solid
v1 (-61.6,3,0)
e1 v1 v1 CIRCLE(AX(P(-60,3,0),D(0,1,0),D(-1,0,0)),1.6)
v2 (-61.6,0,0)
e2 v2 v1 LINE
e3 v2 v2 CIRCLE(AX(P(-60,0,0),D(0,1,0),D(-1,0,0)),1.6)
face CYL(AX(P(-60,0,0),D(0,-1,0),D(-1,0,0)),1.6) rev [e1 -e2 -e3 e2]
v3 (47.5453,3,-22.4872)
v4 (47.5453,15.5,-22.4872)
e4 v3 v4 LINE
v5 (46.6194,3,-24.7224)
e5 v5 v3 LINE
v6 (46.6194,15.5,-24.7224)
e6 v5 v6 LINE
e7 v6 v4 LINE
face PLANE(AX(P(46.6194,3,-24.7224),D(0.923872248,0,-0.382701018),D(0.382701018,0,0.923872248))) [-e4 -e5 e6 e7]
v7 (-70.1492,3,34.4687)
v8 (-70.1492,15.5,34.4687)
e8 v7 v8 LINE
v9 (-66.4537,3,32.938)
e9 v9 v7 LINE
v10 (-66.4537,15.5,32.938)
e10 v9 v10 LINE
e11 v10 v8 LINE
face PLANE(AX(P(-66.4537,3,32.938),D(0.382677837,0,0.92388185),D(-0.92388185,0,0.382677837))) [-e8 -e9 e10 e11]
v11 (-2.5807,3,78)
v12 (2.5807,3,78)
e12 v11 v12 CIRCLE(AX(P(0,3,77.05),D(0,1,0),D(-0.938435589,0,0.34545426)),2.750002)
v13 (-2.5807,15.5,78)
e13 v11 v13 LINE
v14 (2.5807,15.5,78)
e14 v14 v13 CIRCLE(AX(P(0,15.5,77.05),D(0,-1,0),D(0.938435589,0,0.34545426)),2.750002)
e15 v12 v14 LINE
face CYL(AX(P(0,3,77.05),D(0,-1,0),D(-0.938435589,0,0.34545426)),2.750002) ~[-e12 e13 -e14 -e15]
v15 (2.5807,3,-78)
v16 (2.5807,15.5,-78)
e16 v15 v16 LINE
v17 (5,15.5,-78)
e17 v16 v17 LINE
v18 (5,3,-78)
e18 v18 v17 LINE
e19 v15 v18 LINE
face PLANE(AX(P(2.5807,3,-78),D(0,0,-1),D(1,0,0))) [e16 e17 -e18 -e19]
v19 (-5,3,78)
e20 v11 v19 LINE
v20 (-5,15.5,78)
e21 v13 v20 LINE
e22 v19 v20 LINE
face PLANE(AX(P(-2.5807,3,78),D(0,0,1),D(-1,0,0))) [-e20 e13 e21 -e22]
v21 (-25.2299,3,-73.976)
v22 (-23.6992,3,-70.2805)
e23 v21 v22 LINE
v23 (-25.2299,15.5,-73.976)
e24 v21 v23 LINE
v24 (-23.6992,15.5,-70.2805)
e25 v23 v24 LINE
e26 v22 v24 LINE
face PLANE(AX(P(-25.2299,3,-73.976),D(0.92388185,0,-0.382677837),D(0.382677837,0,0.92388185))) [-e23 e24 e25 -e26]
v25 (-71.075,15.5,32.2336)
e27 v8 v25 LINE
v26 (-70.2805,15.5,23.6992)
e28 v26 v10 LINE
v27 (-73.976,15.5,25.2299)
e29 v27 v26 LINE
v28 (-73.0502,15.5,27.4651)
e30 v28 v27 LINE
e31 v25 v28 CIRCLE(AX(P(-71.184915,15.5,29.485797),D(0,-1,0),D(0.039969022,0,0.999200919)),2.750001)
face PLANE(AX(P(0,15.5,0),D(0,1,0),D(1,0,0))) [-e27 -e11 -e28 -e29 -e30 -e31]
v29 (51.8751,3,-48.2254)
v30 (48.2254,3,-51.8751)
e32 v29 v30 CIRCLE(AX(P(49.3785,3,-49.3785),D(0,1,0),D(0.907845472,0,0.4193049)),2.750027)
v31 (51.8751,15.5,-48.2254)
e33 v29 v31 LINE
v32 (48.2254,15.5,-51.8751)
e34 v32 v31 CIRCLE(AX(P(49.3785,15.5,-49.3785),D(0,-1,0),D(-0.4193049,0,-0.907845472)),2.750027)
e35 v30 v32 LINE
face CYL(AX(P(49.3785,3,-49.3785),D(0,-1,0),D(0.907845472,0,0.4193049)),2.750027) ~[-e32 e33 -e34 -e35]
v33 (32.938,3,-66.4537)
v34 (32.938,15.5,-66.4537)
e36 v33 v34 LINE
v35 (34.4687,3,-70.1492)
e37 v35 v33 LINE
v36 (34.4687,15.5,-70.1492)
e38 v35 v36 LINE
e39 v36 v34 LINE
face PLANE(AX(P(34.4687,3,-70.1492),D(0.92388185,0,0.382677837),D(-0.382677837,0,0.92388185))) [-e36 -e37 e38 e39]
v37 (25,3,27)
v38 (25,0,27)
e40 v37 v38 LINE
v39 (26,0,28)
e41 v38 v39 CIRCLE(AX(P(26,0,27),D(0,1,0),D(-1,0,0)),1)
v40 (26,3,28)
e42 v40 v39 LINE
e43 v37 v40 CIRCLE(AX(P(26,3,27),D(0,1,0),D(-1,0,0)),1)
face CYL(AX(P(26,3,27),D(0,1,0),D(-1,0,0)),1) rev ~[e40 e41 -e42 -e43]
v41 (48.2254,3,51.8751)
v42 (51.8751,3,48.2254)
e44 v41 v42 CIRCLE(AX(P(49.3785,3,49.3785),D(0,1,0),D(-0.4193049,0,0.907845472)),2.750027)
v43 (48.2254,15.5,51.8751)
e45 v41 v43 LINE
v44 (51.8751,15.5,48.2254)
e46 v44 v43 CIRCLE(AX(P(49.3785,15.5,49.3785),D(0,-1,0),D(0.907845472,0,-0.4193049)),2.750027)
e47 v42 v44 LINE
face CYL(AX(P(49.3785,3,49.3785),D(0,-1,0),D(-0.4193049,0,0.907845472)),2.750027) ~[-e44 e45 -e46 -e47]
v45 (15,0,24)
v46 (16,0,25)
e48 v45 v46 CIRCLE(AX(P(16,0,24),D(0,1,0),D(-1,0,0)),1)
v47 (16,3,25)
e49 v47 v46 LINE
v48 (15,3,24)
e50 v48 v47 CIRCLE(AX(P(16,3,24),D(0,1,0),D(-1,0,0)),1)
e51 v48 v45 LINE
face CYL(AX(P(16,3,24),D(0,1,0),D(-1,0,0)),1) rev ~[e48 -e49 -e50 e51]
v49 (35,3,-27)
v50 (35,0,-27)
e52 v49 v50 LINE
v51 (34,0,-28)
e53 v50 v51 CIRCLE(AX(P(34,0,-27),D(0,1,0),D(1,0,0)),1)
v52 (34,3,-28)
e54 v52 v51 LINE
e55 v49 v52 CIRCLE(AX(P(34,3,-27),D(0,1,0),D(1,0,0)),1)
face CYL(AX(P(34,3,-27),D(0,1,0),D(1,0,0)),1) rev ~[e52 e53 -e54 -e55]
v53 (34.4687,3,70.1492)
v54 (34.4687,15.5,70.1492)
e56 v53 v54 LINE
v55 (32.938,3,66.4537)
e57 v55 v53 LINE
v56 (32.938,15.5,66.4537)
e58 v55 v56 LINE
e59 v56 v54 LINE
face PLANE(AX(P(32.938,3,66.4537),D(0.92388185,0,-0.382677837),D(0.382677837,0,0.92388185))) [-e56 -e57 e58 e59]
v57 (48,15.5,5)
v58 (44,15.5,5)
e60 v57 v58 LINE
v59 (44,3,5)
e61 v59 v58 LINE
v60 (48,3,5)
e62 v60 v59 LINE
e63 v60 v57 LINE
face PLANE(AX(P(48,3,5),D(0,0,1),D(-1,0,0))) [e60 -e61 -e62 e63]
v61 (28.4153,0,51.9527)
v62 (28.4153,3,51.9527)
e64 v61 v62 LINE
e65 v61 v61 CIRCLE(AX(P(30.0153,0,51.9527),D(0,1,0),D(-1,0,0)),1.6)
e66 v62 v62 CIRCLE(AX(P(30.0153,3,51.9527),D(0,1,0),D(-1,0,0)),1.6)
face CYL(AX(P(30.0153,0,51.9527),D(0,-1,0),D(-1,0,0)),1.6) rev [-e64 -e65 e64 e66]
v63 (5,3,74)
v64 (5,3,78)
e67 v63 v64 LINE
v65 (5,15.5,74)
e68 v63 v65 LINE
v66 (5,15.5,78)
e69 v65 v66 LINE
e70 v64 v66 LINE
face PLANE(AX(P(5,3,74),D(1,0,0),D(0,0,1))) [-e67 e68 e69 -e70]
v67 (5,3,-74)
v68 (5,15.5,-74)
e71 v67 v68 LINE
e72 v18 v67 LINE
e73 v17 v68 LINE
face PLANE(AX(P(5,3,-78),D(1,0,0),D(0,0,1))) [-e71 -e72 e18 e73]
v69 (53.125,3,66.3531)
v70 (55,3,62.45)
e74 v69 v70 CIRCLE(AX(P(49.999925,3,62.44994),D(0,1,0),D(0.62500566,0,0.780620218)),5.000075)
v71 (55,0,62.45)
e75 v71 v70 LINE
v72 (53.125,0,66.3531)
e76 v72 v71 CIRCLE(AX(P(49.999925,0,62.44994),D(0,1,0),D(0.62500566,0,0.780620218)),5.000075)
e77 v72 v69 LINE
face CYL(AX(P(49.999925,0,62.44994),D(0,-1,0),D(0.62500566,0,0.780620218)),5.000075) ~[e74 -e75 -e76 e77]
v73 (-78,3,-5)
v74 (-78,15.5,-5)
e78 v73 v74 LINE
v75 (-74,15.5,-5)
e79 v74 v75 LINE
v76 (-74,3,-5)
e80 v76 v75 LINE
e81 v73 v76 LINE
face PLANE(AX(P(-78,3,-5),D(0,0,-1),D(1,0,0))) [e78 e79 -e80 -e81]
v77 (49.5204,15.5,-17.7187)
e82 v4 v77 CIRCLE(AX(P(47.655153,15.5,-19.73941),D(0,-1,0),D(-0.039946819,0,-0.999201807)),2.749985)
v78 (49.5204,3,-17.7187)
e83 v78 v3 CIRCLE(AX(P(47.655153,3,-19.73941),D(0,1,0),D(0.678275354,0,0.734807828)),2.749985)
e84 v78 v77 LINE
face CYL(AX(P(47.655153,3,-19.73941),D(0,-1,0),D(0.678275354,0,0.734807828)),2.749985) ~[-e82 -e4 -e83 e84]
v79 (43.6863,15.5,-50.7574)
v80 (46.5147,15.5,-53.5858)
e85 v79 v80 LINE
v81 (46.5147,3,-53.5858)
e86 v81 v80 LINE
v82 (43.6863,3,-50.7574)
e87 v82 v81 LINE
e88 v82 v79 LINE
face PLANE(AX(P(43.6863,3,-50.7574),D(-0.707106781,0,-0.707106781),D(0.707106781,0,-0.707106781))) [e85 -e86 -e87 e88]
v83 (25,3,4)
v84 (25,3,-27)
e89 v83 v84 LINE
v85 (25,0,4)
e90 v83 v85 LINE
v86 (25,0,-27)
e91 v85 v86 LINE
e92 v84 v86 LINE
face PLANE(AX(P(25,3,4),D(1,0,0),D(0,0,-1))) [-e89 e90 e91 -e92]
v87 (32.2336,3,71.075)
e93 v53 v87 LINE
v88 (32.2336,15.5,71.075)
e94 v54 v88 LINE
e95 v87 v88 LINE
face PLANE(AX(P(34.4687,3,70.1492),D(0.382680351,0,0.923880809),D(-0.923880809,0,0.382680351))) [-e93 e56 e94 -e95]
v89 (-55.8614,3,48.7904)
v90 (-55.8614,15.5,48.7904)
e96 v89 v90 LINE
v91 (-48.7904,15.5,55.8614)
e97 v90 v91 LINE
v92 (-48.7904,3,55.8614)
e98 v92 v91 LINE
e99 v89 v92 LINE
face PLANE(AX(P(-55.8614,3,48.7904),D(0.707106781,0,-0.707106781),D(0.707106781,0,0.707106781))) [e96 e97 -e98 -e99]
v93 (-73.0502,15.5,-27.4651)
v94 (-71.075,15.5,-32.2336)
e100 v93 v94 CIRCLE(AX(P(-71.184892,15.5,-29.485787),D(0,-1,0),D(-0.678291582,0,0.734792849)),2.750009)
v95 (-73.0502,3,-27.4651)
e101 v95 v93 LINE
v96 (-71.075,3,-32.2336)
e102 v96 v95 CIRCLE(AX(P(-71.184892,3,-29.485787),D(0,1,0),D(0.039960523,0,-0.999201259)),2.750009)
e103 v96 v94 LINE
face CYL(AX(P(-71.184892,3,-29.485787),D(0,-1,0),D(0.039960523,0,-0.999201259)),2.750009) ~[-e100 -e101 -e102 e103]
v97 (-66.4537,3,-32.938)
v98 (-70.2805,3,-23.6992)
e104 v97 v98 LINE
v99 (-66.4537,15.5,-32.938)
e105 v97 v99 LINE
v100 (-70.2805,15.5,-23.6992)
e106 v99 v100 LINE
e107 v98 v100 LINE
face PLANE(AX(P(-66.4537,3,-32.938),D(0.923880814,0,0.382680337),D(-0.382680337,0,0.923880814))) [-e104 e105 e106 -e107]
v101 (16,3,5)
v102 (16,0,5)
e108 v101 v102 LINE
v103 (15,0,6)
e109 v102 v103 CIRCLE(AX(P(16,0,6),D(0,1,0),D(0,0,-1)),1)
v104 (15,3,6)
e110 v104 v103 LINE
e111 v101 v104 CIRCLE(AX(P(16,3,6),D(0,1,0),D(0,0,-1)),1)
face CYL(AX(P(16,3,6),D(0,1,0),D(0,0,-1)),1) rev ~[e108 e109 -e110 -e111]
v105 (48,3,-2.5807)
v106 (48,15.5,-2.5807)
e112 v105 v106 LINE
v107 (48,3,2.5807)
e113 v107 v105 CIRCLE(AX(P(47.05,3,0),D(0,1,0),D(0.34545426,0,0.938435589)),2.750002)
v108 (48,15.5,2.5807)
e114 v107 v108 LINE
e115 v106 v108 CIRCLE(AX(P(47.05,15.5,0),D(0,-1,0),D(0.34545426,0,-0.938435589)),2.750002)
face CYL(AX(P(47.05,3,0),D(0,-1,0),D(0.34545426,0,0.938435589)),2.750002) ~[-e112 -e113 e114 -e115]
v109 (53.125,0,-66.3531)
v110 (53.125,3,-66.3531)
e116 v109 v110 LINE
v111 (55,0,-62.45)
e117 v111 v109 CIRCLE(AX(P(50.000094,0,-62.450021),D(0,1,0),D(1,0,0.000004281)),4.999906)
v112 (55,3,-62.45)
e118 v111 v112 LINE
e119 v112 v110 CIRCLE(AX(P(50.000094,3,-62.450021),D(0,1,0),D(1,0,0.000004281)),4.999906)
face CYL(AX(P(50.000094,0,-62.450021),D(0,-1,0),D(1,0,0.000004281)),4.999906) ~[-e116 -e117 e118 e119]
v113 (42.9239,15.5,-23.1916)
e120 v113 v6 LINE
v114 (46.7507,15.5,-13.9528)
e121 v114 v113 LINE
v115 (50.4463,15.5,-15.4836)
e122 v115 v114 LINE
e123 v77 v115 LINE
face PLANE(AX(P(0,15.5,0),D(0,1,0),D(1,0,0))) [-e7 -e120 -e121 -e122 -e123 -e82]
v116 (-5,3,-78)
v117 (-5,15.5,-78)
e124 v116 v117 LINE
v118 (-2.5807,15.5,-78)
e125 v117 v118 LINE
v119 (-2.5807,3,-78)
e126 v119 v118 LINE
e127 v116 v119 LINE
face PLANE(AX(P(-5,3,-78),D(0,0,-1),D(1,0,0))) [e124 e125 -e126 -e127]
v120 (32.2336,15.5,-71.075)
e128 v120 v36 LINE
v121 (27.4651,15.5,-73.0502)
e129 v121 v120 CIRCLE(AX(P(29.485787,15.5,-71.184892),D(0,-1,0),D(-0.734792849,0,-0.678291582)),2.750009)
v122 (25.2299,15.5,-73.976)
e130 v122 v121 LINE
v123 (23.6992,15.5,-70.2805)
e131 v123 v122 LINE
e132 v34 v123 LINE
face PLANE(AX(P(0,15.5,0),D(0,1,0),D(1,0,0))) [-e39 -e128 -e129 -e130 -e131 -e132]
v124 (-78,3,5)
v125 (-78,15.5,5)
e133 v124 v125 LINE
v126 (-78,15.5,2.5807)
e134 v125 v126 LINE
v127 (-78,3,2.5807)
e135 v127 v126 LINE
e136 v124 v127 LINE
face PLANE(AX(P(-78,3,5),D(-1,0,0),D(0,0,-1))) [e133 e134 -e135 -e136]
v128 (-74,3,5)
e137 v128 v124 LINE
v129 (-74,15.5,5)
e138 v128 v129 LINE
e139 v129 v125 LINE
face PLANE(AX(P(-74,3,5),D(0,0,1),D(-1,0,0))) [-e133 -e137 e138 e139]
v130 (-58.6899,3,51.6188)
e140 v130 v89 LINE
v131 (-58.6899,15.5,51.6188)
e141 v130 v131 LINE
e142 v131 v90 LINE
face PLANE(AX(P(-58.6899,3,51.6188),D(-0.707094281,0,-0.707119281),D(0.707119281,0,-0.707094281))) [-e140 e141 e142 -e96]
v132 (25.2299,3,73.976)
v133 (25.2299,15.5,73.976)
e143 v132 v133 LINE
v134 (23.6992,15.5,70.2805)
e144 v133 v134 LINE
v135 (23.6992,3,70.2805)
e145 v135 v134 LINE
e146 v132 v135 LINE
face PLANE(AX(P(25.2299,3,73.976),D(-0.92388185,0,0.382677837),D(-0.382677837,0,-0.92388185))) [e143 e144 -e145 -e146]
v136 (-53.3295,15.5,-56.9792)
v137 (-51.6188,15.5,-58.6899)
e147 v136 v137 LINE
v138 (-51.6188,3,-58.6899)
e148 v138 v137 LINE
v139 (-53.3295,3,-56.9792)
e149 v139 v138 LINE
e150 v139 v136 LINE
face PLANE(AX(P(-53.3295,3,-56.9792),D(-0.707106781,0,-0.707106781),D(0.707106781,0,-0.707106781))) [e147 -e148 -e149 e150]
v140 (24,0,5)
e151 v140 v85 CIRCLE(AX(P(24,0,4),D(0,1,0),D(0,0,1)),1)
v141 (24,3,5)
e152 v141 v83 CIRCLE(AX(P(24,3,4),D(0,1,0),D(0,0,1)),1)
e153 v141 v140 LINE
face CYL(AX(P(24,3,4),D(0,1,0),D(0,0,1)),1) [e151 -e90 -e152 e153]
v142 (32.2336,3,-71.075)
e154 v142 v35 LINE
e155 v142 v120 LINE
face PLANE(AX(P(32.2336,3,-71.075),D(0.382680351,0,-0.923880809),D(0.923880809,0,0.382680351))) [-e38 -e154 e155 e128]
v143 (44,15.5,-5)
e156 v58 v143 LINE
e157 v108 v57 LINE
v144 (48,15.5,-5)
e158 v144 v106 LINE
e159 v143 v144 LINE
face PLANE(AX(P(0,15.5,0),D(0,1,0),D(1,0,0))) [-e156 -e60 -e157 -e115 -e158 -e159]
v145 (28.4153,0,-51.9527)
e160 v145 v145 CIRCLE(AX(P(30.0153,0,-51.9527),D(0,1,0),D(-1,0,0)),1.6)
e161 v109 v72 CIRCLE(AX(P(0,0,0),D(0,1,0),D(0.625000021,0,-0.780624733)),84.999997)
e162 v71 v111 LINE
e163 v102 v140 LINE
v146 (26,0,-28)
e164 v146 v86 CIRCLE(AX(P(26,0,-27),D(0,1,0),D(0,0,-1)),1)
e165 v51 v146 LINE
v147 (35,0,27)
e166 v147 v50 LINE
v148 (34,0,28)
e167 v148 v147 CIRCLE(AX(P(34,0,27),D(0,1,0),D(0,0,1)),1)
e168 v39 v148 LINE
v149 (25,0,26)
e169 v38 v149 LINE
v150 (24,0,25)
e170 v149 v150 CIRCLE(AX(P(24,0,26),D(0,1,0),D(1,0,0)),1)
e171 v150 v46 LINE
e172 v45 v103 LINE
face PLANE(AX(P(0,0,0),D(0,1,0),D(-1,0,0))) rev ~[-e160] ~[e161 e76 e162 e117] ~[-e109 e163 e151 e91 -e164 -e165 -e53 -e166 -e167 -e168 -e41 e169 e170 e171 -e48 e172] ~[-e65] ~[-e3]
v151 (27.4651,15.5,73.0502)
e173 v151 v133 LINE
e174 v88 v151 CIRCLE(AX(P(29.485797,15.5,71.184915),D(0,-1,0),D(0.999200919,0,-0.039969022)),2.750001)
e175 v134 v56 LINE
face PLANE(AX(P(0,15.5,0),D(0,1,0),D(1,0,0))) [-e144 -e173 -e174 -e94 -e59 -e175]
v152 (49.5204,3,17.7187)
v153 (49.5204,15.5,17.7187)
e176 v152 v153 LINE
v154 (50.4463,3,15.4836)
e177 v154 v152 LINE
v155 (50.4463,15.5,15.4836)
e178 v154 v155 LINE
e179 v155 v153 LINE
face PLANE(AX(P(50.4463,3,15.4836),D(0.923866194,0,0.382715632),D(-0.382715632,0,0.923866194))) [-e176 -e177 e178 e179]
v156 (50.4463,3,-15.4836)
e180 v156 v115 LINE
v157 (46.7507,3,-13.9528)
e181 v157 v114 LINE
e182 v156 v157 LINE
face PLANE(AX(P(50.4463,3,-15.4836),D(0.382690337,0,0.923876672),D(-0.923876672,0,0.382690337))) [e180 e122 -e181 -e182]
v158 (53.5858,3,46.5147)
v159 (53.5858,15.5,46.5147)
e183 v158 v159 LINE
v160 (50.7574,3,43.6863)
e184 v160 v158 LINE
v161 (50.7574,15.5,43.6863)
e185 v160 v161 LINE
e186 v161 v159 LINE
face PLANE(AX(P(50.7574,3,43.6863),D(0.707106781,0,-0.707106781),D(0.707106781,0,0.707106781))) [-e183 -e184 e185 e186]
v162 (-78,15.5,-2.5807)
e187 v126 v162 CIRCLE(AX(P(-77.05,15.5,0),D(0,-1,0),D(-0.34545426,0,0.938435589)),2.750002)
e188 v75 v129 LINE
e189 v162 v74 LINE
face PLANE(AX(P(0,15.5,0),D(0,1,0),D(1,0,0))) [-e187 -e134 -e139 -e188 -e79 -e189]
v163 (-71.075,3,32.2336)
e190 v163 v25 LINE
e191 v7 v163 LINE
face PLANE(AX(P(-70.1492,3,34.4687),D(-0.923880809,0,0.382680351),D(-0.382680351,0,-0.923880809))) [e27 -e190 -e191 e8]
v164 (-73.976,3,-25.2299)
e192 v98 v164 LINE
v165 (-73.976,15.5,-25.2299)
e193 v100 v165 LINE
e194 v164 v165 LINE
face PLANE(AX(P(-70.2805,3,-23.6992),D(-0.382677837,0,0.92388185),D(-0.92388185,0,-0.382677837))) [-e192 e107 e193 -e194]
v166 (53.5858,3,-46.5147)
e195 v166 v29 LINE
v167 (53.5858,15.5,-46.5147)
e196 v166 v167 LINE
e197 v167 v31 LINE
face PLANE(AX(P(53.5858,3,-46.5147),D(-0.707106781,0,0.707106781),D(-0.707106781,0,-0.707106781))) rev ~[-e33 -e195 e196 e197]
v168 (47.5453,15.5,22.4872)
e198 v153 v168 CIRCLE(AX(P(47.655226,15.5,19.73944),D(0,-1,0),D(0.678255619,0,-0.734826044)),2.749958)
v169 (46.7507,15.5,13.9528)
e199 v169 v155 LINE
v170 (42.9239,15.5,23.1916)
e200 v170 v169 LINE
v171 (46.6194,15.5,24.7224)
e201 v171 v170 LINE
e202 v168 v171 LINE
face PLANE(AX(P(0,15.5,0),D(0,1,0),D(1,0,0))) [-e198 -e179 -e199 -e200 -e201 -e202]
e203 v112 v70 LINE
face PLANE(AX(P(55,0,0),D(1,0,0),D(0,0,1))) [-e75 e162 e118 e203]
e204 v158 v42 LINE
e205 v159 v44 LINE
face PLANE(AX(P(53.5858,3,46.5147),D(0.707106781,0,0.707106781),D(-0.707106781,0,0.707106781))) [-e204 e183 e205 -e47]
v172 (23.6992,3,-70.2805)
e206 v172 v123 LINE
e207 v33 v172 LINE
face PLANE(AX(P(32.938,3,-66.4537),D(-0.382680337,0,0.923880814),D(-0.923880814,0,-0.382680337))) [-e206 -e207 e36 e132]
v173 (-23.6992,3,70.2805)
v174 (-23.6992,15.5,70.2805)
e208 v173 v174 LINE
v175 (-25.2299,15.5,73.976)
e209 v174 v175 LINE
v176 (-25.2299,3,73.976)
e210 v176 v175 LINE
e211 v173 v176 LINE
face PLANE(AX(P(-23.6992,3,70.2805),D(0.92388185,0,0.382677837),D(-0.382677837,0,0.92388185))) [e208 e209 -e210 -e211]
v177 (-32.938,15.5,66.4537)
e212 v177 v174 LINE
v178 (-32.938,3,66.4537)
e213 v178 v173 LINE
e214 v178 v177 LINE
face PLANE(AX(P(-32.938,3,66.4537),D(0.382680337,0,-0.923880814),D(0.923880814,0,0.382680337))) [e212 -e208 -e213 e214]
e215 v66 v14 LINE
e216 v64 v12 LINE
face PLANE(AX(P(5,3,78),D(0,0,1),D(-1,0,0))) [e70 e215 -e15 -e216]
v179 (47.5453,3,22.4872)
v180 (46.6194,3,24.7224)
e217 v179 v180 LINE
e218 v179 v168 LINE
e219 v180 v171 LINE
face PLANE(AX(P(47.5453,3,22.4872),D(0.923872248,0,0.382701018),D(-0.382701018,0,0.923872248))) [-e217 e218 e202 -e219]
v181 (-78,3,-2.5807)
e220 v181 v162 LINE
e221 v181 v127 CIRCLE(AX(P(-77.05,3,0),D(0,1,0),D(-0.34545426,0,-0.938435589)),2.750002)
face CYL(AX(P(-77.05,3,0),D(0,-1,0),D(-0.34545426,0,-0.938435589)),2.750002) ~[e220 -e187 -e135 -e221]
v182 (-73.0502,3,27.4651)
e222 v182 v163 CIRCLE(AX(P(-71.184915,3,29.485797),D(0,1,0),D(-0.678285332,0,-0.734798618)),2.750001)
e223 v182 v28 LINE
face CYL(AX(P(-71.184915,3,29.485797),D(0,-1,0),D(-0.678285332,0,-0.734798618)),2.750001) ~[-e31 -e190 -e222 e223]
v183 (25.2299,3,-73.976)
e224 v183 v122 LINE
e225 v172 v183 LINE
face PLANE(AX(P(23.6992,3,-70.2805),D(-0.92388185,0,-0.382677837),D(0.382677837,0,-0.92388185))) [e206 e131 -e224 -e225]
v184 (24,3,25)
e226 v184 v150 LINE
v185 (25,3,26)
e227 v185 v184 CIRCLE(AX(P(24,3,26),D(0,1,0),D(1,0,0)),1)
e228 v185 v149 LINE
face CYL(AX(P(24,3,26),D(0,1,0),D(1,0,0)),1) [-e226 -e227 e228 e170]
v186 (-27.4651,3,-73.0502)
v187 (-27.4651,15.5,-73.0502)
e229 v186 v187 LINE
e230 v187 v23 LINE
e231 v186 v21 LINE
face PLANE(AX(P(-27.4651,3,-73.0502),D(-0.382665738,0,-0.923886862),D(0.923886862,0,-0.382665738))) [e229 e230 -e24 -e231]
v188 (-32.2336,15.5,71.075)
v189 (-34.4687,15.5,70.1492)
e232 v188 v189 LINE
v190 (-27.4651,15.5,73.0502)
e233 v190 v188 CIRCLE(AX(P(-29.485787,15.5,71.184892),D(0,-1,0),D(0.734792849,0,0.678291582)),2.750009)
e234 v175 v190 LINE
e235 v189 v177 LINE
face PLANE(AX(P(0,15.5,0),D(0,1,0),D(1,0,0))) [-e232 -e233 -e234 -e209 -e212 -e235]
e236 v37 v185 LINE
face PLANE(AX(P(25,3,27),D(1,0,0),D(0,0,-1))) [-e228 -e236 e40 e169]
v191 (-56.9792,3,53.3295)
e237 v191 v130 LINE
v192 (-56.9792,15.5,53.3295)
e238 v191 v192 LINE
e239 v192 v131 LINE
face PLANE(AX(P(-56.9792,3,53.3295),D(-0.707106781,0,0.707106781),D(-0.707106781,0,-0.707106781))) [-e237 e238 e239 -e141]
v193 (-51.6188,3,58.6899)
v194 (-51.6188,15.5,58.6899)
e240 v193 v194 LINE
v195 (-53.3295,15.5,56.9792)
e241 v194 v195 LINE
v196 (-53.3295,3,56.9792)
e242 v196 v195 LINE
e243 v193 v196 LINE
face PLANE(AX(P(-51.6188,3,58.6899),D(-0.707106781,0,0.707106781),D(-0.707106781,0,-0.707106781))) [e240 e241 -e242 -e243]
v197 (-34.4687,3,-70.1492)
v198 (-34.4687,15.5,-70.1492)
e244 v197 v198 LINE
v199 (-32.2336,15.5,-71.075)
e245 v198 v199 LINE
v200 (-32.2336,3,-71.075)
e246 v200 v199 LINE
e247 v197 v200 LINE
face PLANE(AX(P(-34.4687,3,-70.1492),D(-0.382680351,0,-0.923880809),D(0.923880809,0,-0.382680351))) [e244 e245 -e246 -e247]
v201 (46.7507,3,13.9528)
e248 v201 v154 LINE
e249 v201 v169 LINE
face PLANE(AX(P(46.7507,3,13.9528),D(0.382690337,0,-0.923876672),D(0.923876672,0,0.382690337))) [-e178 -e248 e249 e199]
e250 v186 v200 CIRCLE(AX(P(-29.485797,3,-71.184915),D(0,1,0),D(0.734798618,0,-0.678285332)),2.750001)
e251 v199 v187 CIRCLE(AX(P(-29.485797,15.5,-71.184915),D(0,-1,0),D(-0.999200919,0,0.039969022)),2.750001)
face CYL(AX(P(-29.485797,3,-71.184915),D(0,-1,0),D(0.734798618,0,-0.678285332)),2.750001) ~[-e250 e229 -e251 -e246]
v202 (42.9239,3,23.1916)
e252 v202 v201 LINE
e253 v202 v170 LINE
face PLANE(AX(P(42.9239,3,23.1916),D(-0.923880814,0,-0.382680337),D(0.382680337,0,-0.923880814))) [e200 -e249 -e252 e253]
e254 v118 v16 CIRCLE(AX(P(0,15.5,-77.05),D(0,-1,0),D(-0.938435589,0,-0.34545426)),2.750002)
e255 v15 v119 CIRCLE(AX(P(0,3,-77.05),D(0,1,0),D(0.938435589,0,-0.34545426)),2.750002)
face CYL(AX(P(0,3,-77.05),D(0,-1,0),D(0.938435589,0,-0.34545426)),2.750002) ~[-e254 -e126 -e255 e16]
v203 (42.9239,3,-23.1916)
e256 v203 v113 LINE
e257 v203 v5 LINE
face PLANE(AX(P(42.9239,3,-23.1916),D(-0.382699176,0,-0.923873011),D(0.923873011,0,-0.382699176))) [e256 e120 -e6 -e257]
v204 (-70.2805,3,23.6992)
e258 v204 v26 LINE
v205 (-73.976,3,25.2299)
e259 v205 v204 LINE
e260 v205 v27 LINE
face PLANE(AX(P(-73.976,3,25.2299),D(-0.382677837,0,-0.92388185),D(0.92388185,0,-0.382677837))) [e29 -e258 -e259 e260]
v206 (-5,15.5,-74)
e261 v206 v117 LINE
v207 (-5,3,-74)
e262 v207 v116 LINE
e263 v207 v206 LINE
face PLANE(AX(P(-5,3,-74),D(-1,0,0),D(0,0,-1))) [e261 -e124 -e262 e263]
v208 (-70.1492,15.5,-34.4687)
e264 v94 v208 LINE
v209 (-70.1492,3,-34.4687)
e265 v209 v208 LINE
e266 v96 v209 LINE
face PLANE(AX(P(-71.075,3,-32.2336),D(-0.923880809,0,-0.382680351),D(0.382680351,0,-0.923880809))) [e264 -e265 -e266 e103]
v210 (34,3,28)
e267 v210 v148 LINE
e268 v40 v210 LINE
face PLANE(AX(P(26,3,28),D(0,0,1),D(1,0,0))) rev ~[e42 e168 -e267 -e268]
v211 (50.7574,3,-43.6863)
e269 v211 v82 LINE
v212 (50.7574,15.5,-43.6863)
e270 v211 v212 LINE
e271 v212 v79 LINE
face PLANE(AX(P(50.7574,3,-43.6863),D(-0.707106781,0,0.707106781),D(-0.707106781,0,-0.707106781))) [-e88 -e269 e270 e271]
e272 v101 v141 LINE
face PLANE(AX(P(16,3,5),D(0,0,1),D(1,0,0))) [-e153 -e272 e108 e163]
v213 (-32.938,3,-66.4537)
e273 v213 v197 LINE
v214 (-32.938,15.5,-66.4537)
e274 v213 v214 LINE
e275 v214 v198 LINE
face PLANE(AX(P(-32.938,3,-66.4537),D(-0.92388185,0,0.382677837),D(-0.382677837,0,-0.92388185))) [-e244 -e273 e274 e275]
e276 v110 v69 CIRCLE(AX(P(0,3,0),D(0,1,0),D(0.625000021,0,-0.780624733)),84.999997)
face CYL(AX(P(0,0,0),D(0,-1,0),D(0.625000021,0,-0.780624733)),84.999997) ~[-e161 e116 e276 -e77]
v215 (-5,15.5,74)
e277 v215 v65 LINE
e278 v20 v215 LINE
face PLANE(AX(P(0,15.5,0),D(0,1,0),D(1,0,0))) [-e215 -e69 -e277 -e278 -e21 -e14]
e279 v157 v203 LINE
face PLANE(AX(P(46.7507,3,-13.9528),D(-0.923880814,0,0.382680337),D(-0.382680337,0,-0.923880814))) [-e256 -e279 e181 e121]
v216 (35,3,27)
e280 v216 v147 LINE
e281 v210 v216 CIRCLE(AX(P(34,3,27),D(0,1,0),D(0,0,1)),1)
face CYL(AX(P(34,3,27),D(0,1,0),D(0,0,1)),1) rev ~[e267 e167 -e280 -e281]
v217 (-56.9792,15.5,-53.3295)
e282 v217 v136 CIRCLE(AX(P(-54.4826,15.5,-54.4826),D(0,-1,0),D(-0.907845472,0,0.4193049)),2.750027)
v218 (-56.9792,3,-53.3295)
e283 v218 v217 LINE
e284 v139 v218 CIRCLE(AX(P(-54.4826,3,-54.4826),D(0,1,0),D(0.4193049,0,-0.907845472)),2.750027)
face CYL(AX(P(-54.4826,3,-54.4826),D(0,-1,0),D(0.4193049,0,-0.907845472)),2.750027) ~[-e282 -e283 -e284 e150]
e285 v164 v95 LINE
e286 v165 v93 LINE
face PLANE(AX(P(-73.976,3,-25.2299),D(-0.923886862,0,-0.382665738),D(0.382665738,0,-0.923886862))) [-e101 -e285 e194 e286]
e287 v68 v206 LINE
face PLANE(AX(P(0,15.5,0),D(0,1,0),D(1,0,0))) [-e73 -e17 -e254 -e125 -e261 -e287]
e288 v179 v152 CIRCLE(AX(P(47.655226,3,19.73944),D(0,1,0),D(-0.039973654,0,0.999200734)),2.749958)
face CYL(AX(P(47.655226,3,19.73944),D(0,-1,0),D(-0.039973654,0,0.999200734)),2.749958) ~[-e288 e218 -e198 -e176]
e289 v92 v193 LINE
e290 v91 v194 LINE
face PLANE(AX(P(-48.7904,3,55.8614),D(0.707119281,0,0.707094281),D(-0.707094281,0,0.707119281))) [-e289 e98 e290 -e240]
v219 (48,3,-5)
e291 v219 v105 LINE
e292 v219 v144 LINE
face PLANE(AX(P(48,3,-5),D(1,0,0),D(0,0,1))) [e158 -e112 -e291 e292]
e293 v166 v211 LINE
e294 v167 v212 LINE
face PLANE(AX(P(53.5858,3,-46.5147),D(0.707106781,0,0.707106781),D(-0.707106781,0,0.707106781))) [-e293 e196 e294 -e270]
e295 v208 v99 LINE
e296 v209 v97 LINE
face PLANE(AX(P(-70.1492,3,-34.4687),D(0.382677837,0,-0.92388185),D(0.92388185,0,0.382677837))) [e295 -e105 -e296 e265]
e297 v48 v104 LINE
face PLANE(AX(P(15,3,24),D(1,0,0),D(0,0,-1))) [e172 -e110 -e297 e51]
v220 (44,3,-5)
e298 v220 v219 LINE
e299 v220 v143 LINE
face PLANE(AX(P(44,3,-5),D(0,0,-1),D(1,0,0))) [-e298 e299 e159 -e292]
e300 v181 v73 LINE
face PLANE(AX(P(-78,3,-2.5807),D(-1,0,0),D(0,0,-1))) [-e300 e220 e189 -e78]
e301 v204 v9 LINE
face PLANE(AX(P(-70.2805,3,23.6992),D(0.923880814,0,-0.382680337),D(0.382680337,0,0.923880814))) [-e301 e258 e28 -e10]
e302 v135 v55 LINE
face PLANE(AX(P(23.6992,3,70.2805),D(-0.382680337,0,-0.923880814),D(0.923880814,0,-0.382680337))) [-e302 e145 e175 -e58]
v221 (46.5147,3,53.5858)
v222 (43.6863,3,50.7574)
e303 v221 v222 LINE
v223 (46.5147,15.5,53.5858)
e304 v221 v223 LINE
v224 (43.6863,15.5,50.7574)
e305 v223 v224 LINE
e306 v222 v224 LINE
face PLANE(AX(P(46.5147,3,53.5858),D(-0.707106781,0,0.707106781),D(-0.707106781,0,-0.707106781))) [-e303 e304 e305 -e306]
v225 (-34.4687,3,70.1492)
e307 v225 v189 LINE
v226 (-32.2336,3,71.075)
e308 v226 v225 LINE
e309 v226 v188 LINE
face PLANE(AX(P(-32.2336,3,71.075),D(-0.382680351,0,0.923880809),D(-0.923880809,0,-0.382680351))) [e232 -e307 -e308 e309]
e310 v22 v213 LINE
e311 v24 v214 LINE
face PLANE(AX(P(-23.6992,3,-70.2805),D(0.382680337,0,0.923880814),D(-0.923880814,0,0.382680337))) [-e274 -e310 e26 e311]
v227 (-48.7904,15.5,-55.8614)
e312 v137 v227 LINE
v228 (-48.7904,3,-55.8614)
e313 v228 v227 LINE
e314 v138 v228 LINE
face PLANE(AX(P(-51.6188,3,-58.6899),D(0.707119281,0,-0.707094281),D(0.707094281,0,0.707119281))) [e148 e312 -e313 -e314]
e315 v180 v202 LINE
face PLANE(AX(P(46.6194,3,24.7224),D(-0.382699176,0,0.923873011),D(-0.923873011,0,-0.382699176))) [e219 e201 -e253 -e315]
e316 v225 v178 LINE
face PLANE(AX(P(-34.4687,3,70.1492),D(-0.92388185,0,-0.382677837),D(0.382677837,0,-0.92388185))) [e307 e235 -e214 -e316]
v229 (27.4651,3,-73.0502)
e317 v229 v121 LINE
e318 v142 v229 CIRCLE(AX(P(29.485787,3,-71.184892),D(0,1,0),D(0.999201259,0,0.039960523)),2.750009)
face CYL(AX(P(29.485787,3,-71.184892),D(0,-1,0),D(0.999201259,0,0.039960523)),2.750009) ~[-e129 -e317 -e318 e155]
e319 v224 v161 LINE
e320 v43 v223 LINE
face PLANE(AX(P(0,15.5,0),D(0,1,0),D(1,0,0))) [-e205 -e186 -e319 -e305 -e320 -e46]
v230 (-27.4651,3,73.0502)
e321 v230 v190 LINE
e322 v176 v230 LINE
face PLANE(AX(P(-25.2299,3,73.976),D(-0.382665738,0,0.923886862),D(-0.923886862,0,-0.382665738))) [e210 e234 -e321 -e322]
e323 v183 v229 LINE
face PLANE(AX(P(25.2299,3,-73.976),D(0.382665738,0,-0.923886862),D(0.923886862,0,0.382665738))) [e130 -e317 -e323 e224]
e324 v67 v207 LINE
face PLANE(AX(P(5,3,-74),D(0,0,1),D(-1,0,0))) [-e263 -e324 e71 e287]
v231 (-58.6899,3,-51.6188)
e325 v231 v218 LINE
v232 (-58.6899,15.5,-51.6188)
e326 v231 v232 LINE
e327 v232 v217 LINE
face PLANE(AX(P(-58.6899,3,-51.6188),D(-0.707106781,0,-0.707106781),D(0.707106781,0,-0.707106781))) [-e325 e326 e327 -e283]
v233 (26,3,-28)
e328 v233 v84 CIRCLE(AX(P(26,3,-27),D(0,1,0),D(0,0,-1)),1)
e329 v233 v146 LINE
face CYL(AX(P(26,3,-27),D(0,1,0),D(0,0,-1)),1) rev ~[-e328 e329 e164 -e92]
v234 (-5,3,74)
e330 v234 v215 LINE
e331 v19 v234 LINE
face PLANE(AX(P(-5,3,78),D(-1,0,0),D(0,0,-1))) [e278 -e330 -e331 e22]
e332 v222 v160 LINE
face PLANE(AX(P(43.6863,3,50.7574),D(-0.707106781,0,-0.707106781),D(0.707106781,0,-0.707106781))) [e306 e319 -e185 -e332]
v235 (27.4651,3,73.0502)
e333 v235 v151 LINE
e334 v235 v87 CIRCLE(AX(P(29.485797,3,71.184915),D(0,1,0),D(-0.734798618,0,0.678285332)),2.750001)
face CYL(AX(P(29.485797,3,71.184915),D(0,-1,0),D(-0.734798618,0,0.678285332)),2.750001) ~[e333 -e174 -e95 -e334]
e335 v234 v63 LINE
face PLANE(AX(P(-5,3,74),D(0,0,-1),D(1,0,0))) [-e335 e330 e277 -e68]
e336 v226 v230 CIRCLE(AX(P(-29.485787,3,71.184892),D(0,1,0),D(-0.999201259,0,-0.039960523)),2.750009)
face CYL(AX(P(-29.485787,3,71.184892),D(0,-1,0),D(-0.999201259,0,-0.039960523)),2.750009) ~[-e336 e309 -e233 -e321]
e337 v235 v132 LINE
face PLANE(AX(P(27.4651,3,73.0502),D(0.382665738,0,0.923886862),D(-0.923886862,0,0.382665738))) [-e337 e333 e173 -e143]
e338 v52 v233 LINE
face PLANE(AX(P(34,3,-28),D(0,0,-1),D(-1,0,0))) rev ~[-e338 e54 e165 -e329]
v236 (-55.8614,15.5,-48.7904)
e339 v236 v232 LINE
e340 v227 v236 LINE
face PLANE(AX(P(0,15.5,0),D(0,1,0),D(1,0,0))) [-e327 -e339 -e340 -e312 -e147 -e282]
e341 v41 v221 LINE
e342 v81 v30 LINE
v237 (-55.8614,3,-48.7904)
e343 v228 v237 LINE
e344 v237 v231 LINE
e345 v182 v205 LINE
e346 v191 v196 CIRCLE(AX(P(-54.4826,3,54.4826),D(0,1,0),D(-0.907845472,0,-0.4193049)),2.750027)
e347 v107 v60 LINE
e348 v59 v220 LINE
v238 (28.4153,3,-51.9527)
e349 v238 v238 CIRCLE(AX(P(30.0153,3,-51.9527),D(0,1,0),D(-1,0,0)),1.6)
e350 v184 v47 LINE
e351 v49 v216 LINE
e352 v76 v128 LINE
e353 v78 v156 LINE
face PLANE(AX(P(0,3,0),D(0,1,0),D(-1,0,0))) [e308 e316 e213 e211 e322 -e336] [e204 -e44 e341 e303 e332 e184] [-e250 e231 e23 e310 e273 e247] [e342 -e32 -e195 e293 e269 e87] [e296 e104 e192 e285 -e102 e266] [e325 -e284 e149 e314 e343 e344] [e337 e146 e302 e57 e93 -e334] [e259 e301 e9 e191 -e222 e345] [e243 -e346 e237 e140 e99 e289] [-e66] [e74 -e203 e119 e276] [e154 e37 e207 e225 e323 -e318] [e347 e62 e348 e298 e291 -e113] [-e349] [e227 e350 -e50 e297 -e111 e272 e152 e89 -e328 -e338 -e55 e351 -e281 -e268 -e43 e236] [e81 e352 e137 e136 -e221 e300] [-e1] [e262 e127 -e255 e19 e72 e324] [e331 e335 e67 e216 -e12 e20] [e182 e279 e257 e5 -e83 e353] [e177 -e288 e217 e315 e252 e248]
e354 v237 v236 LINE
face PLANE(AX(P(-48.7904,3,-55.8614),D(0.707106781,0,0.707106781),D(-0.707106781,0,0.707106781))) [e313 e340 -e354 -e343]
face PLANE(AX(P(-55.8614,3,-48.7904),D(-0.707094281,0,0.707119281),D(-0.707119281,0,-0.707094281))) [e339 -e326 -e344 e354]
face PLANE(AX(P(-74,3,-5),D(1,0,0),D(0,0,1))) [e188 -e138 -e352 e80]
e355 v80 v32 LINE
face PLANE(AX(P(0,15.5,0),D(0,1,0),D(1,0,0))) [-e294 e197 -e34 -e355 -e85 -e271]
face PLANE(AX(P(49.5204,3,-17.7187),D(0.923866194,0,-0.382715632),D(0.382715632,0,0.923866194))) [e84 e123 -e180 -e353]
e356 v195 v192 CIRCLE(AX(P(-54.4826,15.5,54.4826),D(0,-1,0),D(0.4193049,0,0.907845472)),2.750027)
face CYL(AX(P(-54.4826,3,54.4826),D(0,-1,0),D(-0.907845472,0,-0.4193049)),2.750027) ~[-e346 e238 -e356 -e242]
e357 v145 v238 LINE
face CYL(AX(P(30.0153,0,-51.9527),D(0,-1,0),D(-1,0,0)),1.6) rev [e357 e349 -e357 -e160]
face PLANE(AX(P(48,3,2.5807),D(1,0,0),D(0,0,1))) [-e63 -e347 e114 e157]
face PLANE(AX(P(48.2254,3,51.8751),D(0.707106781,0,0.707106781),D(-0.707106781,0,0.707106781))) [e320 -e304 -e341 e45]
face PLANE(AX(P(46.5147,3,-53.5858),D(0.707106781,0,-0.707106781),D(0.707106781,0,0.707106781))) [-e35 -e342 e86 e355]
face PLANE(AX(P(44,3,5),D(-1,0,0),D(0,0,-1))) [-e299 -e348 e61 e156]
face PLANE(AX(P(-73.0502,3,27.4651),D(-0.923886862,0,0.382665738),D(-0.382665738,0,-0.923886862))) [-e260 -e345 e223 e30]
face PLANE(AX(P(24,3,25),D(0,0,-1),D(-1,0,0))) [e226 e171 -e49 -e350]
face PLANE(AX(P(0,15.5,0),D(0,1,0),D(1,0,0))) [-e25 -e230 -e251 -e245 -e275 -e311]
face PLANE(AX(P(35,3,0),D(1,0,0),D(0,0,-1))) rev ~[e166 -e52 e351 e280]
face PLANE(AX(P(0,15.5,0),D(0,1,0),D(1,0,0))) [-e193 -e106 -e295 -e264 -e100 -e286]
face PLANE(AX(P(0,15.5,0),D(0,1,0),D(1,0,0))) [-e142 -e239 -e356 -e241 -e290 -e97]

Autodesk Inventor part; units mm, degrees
ref_plane "YZ Plane" through (0, 0, 0) normal (1, 0, 0) x (0, 1, 0)
ref_plane "XZ Plane" through (0, 0, 0) normal (0, 1, 0) x (-1, 0, 0)
ref_plane "XY Plane" through (0, 0, 0) normal (0, 0, 1) x (1, 0, 0)
sketch "Sketch4" plane through (0, 0, 0) normal (0, 1, 0) x (-1, 0, 0)
  line L0 (-55, 0) -> (-55, 62.45)
  line L1 (-55, 0) -> (-55, -62.45)
  arc A0 (-53.125, -66.3531) -> (-53.125, 66.3531) centre (0, 0) ccw
  arc A1 (-53.125, 66.3531) -> (-55, 62.45) centre (-50, 62.45) ccw
  arc A2 (-55, -62.45) -> (-53.125, -66.3531) centre (-50, -62.45) ccw
  circle A3 centre (-30.0153, 51.9527) radius 1.6
  circle A4 centre (60, 0) radius 1.6
  circle A5 centre (-30.0153, -51.9527) radius 1.6
  point P0 (-55, -64.8074)
  dimension "d56" = 3.2
  dimension "d57" = 3.2
  dimension "d58" = 3.2
extrude "Extrusion2" add sketch "Sketch4" along normal blind 3
sketch "Sketch5" plane through (0, 3, 0) normal (0, 1, 0) x (1, 0, 0)
  line L0 (-78, 5) -> (-74, 5)
  line L1 (-74, 5) -> (-74, -5)
  line L2 (-74, -5) -> (-78, -5)
  arc A0 (-78, 2.5807) -> (-78, -2.5807) centre (-77.05, 0) ccw
  line L3 (-78, -5) -> (-78, -2.5807)
  line L4 (-78, 2.5807) -> (-78, 5)
  line L5 (-77.05, 0) -> (-85, 0)
  line L6 (-73.976, -25.2299) -> (-70.2805, -23.6992)
  line L7 (-70.2805, -23.6992) -> (-66.4537, -32.938)
  line L8 (-73.0502, -27.4651) -> (-73.976, -25.2299)
  line L9 (-66.4537, -32.938) -> (-70.1492, -34.4687)
  arc A1 (-73.0502, -27.4651) -> (-71.075, -32.2336) centre (-71.1849, -29.4858) ccw
  line L10 (-71.1849, -29.4858) -> (-78.5298, -32.5281)
  line L11 (-70.1492, -34.4687) -> (-71.075, -32.2336)
  line L12 (-58.6899, -51.6188) -> (-55.8614, -48.7904)
  line L13 (-55.8614, -48.7904) -> (-48.7904, -55.8614)
  line L14 (-56.9792, -53.3295) -> (-58.6899, -51.6188)
  line L15 (-48.7904, -55.8614) -> (-51.6188, -58.6899)
  arc A2 (-56.9792, -53.3295) -> (-53.3295, -56.9792) centre (-54.4826, -54.4826) ccw
  line L16 (-54.4826, -54.4826) -> (-60.1041, -60.1041)
  line L17 (-51.6188, -58.6899) -> (-53.3295, -56.9792)
  line L18 (-34.4687, -70.1492) -> (-32.938, -66.4537)
  line L19 (-32.938, -66.4537) -> (-23.6992, -70.2805)
  line L20 (-32.2336, -71.075) -> (-34.4687, -70.1492)
  line L21 (-23.6992, -70.2805) -> (-25.2299, -73.976)
  arc A3 (-32.2336, -71.075) -> (-27.4651, -73.0502) centre (-29.4858, -71.1849) ccw
  line L22 (-29.4858, -71.1849) -> (-32.5281, -78.5298)
  line L23 (-25.2299, -73.976) -> (-27.4651, -73.0502)
  line L24 (-5, -78) -> (-5, -74)
  line L25 (-5, -74) -> (5, -74)
  line L26 (-2.5807, -78) -> (-5, -78)
  line L27 (5, -74) -> (5, -78)
  arc A4 (-2.5807, -78) -> (2.5807, -78) centre (0, -77.05) ccw
  line L28 (0, -77.05) -> (0, -85)
  line L29 (5, -78) -> (2.5807, -78)
  line L30 (25.2299, -73.976) -> (23.6992, -70.2805)
  line L31 (23.6992, -70.2805) -> (32.938, -66.4537)
  line L32 (27.4651, -73.0502) -> (25.2299, -73.976)
  line L33 (32.938, -66.4537) -> (34.4687, -70.1492)
  arc A5 (27.4651, -73.0502) -> (32.2336, -71.075) centre (29.4858, -71.1849) ccw
  line L34 (29.4858, -71.1849) -> (32.5281, -78.5298)
  line L35 (34.4687, -70.1492) -> (32.2336, -71.075)
  line L36 (46.5147, -53.5858) -> (43.6863, -50.7574)
  line L37 (43.6863, -50.7574) -> (50.7574, -43.6863)
  line L38 (48.2254, -51.8751) -> (46.5147, -53.5858)
  line L39 (50.7574, -43.6863) -> (53.5858, -46.5147)
  arc A6 (48.2254, -51.8751) -> (51.8751, -48.2254) centre (49.3785, -49.3785) ccw
  line L40 (49.3785, -49.3785) -> (55, -55)
  line L41 (53.5858, -46.5147) -> (51.8751, -48.2254)
  line L42 (46.6194, -24.7224) -> (42.9239, -23.1916)
  line L43 (42.9239, -23.1916) -> (46.7507, -13.9528)
  line L44 (47.5453, -22.4872) -> (46.6194, -24.7224)
  line L45 (46.7507, -13.9528) -> (50.4463, -15.4836)
  arc A7 (47.5453, -22.4872) -> (49.5204, -17.7187) centre (47.6552, -19.7394) ccw
  line L46 (47.6552, -19.7394) -> (55, -22.7817)
  line L47 (50.4463, -15.4836) -> (49.5204, -17.7187)
  line L48 (48, -5) -> (44, -5)
  line L49 (44, -5) -> (44, 5)
  line L50 (48, -2.5807) -> (48, -5)
  line L51 (44, 5) -> (48, 5)
  arc A8 (48, -2.5807) -> (48, 2.5807) centre (47.05, 0) ccw
  line L52 (47.05, 0) -> (55, 0)
  line L53 (48, 5) -> (48, 2.5807)
  line L54 (50.4463, 15.4836) -> (46.7507, 13.9528)
  line L55 (46.7507, 13.9528) -> (42.9239, 23.1916)
  line L56 (49.5204, 17.7187) -> (50.4463, 15.4836)
  line L57 (42.9239, 23.1916) -> (46.6194, 24.7224)
  arc A9 (49.5204, 17.7187) -> (47.5453, 22.4872) centre (47.6552, 19.7394) ccw
  line L58 (47.6552, 19.7394) -> (55, 22.7817)
  line L59 (46.6194, 24.7224) -> (47.5453, 22.4872)
  line L60 (53.5858, 46.5147) -> (50.7574, 43.6863)
  line L61 (50.7574, 43.6863) -> (43.6863, 50.7574)
  line L62 (43.6863, 50.7574) -> (46.5147, 53.5858)
  arc A10 (51.8751, 48.2254) -> (48.2254, 51.8751) centre (49.3785, 49.3785) ccw
  line L63 (49.3785, 49.3785) -> (55, 55)
  line L64 (46.5147, 53.5858) -> (48.2254, 51.8751)
  line L65 (34.4687, 70.1492) -> (32.938, 66.4537)
  line L66 (32.938, 66.4537) -> (23.6992, 70.2805)
  line L67 (32.2336, 71.075) -> (34.4687, 70.1492)
  line L68 (23.6992, 70.2805) -> (25.2299, 73.976)
  arc A11 (32.2336, 71.075) -> (27.4651, 73.0502) centre (29.4858, 71.1849) ccw
  line L69 (29.4858, 71.1849) -> (32.5281, 78.5298)
  line L70 (25.2299, 73.976) -> (27.4651, 73.0502)
  line L71 (5, 78) -> (5, 74)
  line L72 (5, 74) -> (-5, 74)
  line L73 (2.5807, 78) -> (5, 78)
  line L74 (-5, 74) -> (-5, 78)
  arc A12 (2.5807, 78) -> (-2.5807, 78) centre (0, 77.05) ccw
  line L75 (0, 77.05) -> (0, 85)
  line L76 (-5, 78) -> (-2.5807, 78)
  line L77 (-25.2299, 73.976) -> (-23.6992, 70.2805)
  line L78 (-23.6992, 70.2805) -> (-32.938, 66.4537)
  line L79 (-27.4651, 73.0502) -> (-25.2299, 73.976)
  line L80 (-32.938, 66.4537) -> (-34.4687, 70.1492)
  arc A13 (-27.4651, 73.0502) -> (-32.2336, 71.075) centre (-29.4858, 71.1849) ccw
  line L81 (-29.4858, 71.1849) -> (-32.5281, 78.5298)
  line L82 (-34.4687, 70.1492) -> (-32.2336, 71.075)
  line L83 (-51.6188, 58.6899) -> (-48.7904, 55.8614)
  line L84 (-48.7904, 55.8614) -> (-55.8614, 48.7904)
  line L85 (-53.3295, 56.9792) -> (-51.6188, 58.6899)
  line L86 (-55.8614, 48.7904) -> (-58.6899, 51.6188)
  arc A14 (-53.3295, 56.9792) -> (-56.9792, 53.3295) centre (-54.4826, 54.4826) ccw
  line L87 (-54.4826, 54.4826) -> (-60.1041, 60.1041)
  line L88 (-58.6899, 51.6188) -> (-56.9792, 53.3295)
  line L89 (-70.1492, 34.4687) -> (-66.4537, 32.938)
  line L90 (-66.4537, 32.938) -> (-70.2805, 23.6992)
  line L91 (-71.075, 32.2336) -> (-70.1492, 34.4687)
  line L92 (-70.2805, 23.6992) -> (-73.976, 25.2299)
  arc A15 (-71.075, 32.2336) -> (-73.0502, 27.4651) centre (-71.1849, 29.4858) ccw
  line L93 (-71.1849, 29.4858) -> (-78.5298, 32.5281)
  line L94 (-73.976, 25.2299) -> (-73.0502, 27.4651)
  line L95 (55, -55) -> (49.8959, -49.8959)
  line L96 (55, 55) -> (49.8959, 49.8959)
  line L97 (53.5858, 46.5147) -> (51.8751, 48.2254)
  point P0 (0, 0)
  dimension "d52" = 4
  dimension "d53" = 10
extrude "Extrusion3" add sketch "Sketch5" along normal blind 12.5
sketch "Sketch6" plane through (0, 3, 0) normal (0, 1, 0) x (1, 0, 0)
  line L0 (55, -62.45) -> (55, 62.45) projected
  line L1 (55, 0) -> (35, 0)
  line L2 (35, 0) -> (35, -27)
  line L3 (35, 0) -> (35, 27)
  line L4 (34, 28) -> (26, 28)
  line L5 (26, -28) -> (34, -28)
  arc A0 (26, 28) -> (25, 27) centre (26, 27) ccw
  arc A1 (35, 27) -> (34, 28) centre (34, 27) ccw
  arc A2 (34, -28) -> (35, -27) centre (34, -27) ccw
  arc A3 (25, -27) -> (26, -28) centre (26, -27) ccw
  line L6 (25, -27) -> (25, -26)
  line L7 (24, -25) -> (16, -25)
  line L8 (15, -24) -> (15, -6)
  line L9 (16, -5) -> (24, -5)
  line L10 (25, -4) -> (25, 27)
  arc A4 (25, -26) -> (24, -25) centre (24, -26) ccw
  arc A5 (15, -24) -> (16, -25) centre (16, -24) ccw
  arc A6 (16, -5) -> (15, -6) centre (16, -6) ccw
  arc A7 (24, -5) -> (25, -4) centre (24, -4) ccw
  point P0 (0, 0)
  point P1 (35, -28)
  point P2 (35, 28)
  point P3 (25, 28)
  point P4 (25, -25)
  point P5 (15, -25)
  point P6 (15, -5)
  dimension "d59" = 20
  dimension "d60" = 28
  dimension "d61" = 28
  dimension "d62" = 10
  dimension "d63" = 1
  dimension "d66" = 2
  dimension "d67" = 10
  dimension "d68" = 20
  dimension "d69" = 1
extrude "Extrusion4" cut sketch "Sketch6" against normal through all
properties part number "PCB"
